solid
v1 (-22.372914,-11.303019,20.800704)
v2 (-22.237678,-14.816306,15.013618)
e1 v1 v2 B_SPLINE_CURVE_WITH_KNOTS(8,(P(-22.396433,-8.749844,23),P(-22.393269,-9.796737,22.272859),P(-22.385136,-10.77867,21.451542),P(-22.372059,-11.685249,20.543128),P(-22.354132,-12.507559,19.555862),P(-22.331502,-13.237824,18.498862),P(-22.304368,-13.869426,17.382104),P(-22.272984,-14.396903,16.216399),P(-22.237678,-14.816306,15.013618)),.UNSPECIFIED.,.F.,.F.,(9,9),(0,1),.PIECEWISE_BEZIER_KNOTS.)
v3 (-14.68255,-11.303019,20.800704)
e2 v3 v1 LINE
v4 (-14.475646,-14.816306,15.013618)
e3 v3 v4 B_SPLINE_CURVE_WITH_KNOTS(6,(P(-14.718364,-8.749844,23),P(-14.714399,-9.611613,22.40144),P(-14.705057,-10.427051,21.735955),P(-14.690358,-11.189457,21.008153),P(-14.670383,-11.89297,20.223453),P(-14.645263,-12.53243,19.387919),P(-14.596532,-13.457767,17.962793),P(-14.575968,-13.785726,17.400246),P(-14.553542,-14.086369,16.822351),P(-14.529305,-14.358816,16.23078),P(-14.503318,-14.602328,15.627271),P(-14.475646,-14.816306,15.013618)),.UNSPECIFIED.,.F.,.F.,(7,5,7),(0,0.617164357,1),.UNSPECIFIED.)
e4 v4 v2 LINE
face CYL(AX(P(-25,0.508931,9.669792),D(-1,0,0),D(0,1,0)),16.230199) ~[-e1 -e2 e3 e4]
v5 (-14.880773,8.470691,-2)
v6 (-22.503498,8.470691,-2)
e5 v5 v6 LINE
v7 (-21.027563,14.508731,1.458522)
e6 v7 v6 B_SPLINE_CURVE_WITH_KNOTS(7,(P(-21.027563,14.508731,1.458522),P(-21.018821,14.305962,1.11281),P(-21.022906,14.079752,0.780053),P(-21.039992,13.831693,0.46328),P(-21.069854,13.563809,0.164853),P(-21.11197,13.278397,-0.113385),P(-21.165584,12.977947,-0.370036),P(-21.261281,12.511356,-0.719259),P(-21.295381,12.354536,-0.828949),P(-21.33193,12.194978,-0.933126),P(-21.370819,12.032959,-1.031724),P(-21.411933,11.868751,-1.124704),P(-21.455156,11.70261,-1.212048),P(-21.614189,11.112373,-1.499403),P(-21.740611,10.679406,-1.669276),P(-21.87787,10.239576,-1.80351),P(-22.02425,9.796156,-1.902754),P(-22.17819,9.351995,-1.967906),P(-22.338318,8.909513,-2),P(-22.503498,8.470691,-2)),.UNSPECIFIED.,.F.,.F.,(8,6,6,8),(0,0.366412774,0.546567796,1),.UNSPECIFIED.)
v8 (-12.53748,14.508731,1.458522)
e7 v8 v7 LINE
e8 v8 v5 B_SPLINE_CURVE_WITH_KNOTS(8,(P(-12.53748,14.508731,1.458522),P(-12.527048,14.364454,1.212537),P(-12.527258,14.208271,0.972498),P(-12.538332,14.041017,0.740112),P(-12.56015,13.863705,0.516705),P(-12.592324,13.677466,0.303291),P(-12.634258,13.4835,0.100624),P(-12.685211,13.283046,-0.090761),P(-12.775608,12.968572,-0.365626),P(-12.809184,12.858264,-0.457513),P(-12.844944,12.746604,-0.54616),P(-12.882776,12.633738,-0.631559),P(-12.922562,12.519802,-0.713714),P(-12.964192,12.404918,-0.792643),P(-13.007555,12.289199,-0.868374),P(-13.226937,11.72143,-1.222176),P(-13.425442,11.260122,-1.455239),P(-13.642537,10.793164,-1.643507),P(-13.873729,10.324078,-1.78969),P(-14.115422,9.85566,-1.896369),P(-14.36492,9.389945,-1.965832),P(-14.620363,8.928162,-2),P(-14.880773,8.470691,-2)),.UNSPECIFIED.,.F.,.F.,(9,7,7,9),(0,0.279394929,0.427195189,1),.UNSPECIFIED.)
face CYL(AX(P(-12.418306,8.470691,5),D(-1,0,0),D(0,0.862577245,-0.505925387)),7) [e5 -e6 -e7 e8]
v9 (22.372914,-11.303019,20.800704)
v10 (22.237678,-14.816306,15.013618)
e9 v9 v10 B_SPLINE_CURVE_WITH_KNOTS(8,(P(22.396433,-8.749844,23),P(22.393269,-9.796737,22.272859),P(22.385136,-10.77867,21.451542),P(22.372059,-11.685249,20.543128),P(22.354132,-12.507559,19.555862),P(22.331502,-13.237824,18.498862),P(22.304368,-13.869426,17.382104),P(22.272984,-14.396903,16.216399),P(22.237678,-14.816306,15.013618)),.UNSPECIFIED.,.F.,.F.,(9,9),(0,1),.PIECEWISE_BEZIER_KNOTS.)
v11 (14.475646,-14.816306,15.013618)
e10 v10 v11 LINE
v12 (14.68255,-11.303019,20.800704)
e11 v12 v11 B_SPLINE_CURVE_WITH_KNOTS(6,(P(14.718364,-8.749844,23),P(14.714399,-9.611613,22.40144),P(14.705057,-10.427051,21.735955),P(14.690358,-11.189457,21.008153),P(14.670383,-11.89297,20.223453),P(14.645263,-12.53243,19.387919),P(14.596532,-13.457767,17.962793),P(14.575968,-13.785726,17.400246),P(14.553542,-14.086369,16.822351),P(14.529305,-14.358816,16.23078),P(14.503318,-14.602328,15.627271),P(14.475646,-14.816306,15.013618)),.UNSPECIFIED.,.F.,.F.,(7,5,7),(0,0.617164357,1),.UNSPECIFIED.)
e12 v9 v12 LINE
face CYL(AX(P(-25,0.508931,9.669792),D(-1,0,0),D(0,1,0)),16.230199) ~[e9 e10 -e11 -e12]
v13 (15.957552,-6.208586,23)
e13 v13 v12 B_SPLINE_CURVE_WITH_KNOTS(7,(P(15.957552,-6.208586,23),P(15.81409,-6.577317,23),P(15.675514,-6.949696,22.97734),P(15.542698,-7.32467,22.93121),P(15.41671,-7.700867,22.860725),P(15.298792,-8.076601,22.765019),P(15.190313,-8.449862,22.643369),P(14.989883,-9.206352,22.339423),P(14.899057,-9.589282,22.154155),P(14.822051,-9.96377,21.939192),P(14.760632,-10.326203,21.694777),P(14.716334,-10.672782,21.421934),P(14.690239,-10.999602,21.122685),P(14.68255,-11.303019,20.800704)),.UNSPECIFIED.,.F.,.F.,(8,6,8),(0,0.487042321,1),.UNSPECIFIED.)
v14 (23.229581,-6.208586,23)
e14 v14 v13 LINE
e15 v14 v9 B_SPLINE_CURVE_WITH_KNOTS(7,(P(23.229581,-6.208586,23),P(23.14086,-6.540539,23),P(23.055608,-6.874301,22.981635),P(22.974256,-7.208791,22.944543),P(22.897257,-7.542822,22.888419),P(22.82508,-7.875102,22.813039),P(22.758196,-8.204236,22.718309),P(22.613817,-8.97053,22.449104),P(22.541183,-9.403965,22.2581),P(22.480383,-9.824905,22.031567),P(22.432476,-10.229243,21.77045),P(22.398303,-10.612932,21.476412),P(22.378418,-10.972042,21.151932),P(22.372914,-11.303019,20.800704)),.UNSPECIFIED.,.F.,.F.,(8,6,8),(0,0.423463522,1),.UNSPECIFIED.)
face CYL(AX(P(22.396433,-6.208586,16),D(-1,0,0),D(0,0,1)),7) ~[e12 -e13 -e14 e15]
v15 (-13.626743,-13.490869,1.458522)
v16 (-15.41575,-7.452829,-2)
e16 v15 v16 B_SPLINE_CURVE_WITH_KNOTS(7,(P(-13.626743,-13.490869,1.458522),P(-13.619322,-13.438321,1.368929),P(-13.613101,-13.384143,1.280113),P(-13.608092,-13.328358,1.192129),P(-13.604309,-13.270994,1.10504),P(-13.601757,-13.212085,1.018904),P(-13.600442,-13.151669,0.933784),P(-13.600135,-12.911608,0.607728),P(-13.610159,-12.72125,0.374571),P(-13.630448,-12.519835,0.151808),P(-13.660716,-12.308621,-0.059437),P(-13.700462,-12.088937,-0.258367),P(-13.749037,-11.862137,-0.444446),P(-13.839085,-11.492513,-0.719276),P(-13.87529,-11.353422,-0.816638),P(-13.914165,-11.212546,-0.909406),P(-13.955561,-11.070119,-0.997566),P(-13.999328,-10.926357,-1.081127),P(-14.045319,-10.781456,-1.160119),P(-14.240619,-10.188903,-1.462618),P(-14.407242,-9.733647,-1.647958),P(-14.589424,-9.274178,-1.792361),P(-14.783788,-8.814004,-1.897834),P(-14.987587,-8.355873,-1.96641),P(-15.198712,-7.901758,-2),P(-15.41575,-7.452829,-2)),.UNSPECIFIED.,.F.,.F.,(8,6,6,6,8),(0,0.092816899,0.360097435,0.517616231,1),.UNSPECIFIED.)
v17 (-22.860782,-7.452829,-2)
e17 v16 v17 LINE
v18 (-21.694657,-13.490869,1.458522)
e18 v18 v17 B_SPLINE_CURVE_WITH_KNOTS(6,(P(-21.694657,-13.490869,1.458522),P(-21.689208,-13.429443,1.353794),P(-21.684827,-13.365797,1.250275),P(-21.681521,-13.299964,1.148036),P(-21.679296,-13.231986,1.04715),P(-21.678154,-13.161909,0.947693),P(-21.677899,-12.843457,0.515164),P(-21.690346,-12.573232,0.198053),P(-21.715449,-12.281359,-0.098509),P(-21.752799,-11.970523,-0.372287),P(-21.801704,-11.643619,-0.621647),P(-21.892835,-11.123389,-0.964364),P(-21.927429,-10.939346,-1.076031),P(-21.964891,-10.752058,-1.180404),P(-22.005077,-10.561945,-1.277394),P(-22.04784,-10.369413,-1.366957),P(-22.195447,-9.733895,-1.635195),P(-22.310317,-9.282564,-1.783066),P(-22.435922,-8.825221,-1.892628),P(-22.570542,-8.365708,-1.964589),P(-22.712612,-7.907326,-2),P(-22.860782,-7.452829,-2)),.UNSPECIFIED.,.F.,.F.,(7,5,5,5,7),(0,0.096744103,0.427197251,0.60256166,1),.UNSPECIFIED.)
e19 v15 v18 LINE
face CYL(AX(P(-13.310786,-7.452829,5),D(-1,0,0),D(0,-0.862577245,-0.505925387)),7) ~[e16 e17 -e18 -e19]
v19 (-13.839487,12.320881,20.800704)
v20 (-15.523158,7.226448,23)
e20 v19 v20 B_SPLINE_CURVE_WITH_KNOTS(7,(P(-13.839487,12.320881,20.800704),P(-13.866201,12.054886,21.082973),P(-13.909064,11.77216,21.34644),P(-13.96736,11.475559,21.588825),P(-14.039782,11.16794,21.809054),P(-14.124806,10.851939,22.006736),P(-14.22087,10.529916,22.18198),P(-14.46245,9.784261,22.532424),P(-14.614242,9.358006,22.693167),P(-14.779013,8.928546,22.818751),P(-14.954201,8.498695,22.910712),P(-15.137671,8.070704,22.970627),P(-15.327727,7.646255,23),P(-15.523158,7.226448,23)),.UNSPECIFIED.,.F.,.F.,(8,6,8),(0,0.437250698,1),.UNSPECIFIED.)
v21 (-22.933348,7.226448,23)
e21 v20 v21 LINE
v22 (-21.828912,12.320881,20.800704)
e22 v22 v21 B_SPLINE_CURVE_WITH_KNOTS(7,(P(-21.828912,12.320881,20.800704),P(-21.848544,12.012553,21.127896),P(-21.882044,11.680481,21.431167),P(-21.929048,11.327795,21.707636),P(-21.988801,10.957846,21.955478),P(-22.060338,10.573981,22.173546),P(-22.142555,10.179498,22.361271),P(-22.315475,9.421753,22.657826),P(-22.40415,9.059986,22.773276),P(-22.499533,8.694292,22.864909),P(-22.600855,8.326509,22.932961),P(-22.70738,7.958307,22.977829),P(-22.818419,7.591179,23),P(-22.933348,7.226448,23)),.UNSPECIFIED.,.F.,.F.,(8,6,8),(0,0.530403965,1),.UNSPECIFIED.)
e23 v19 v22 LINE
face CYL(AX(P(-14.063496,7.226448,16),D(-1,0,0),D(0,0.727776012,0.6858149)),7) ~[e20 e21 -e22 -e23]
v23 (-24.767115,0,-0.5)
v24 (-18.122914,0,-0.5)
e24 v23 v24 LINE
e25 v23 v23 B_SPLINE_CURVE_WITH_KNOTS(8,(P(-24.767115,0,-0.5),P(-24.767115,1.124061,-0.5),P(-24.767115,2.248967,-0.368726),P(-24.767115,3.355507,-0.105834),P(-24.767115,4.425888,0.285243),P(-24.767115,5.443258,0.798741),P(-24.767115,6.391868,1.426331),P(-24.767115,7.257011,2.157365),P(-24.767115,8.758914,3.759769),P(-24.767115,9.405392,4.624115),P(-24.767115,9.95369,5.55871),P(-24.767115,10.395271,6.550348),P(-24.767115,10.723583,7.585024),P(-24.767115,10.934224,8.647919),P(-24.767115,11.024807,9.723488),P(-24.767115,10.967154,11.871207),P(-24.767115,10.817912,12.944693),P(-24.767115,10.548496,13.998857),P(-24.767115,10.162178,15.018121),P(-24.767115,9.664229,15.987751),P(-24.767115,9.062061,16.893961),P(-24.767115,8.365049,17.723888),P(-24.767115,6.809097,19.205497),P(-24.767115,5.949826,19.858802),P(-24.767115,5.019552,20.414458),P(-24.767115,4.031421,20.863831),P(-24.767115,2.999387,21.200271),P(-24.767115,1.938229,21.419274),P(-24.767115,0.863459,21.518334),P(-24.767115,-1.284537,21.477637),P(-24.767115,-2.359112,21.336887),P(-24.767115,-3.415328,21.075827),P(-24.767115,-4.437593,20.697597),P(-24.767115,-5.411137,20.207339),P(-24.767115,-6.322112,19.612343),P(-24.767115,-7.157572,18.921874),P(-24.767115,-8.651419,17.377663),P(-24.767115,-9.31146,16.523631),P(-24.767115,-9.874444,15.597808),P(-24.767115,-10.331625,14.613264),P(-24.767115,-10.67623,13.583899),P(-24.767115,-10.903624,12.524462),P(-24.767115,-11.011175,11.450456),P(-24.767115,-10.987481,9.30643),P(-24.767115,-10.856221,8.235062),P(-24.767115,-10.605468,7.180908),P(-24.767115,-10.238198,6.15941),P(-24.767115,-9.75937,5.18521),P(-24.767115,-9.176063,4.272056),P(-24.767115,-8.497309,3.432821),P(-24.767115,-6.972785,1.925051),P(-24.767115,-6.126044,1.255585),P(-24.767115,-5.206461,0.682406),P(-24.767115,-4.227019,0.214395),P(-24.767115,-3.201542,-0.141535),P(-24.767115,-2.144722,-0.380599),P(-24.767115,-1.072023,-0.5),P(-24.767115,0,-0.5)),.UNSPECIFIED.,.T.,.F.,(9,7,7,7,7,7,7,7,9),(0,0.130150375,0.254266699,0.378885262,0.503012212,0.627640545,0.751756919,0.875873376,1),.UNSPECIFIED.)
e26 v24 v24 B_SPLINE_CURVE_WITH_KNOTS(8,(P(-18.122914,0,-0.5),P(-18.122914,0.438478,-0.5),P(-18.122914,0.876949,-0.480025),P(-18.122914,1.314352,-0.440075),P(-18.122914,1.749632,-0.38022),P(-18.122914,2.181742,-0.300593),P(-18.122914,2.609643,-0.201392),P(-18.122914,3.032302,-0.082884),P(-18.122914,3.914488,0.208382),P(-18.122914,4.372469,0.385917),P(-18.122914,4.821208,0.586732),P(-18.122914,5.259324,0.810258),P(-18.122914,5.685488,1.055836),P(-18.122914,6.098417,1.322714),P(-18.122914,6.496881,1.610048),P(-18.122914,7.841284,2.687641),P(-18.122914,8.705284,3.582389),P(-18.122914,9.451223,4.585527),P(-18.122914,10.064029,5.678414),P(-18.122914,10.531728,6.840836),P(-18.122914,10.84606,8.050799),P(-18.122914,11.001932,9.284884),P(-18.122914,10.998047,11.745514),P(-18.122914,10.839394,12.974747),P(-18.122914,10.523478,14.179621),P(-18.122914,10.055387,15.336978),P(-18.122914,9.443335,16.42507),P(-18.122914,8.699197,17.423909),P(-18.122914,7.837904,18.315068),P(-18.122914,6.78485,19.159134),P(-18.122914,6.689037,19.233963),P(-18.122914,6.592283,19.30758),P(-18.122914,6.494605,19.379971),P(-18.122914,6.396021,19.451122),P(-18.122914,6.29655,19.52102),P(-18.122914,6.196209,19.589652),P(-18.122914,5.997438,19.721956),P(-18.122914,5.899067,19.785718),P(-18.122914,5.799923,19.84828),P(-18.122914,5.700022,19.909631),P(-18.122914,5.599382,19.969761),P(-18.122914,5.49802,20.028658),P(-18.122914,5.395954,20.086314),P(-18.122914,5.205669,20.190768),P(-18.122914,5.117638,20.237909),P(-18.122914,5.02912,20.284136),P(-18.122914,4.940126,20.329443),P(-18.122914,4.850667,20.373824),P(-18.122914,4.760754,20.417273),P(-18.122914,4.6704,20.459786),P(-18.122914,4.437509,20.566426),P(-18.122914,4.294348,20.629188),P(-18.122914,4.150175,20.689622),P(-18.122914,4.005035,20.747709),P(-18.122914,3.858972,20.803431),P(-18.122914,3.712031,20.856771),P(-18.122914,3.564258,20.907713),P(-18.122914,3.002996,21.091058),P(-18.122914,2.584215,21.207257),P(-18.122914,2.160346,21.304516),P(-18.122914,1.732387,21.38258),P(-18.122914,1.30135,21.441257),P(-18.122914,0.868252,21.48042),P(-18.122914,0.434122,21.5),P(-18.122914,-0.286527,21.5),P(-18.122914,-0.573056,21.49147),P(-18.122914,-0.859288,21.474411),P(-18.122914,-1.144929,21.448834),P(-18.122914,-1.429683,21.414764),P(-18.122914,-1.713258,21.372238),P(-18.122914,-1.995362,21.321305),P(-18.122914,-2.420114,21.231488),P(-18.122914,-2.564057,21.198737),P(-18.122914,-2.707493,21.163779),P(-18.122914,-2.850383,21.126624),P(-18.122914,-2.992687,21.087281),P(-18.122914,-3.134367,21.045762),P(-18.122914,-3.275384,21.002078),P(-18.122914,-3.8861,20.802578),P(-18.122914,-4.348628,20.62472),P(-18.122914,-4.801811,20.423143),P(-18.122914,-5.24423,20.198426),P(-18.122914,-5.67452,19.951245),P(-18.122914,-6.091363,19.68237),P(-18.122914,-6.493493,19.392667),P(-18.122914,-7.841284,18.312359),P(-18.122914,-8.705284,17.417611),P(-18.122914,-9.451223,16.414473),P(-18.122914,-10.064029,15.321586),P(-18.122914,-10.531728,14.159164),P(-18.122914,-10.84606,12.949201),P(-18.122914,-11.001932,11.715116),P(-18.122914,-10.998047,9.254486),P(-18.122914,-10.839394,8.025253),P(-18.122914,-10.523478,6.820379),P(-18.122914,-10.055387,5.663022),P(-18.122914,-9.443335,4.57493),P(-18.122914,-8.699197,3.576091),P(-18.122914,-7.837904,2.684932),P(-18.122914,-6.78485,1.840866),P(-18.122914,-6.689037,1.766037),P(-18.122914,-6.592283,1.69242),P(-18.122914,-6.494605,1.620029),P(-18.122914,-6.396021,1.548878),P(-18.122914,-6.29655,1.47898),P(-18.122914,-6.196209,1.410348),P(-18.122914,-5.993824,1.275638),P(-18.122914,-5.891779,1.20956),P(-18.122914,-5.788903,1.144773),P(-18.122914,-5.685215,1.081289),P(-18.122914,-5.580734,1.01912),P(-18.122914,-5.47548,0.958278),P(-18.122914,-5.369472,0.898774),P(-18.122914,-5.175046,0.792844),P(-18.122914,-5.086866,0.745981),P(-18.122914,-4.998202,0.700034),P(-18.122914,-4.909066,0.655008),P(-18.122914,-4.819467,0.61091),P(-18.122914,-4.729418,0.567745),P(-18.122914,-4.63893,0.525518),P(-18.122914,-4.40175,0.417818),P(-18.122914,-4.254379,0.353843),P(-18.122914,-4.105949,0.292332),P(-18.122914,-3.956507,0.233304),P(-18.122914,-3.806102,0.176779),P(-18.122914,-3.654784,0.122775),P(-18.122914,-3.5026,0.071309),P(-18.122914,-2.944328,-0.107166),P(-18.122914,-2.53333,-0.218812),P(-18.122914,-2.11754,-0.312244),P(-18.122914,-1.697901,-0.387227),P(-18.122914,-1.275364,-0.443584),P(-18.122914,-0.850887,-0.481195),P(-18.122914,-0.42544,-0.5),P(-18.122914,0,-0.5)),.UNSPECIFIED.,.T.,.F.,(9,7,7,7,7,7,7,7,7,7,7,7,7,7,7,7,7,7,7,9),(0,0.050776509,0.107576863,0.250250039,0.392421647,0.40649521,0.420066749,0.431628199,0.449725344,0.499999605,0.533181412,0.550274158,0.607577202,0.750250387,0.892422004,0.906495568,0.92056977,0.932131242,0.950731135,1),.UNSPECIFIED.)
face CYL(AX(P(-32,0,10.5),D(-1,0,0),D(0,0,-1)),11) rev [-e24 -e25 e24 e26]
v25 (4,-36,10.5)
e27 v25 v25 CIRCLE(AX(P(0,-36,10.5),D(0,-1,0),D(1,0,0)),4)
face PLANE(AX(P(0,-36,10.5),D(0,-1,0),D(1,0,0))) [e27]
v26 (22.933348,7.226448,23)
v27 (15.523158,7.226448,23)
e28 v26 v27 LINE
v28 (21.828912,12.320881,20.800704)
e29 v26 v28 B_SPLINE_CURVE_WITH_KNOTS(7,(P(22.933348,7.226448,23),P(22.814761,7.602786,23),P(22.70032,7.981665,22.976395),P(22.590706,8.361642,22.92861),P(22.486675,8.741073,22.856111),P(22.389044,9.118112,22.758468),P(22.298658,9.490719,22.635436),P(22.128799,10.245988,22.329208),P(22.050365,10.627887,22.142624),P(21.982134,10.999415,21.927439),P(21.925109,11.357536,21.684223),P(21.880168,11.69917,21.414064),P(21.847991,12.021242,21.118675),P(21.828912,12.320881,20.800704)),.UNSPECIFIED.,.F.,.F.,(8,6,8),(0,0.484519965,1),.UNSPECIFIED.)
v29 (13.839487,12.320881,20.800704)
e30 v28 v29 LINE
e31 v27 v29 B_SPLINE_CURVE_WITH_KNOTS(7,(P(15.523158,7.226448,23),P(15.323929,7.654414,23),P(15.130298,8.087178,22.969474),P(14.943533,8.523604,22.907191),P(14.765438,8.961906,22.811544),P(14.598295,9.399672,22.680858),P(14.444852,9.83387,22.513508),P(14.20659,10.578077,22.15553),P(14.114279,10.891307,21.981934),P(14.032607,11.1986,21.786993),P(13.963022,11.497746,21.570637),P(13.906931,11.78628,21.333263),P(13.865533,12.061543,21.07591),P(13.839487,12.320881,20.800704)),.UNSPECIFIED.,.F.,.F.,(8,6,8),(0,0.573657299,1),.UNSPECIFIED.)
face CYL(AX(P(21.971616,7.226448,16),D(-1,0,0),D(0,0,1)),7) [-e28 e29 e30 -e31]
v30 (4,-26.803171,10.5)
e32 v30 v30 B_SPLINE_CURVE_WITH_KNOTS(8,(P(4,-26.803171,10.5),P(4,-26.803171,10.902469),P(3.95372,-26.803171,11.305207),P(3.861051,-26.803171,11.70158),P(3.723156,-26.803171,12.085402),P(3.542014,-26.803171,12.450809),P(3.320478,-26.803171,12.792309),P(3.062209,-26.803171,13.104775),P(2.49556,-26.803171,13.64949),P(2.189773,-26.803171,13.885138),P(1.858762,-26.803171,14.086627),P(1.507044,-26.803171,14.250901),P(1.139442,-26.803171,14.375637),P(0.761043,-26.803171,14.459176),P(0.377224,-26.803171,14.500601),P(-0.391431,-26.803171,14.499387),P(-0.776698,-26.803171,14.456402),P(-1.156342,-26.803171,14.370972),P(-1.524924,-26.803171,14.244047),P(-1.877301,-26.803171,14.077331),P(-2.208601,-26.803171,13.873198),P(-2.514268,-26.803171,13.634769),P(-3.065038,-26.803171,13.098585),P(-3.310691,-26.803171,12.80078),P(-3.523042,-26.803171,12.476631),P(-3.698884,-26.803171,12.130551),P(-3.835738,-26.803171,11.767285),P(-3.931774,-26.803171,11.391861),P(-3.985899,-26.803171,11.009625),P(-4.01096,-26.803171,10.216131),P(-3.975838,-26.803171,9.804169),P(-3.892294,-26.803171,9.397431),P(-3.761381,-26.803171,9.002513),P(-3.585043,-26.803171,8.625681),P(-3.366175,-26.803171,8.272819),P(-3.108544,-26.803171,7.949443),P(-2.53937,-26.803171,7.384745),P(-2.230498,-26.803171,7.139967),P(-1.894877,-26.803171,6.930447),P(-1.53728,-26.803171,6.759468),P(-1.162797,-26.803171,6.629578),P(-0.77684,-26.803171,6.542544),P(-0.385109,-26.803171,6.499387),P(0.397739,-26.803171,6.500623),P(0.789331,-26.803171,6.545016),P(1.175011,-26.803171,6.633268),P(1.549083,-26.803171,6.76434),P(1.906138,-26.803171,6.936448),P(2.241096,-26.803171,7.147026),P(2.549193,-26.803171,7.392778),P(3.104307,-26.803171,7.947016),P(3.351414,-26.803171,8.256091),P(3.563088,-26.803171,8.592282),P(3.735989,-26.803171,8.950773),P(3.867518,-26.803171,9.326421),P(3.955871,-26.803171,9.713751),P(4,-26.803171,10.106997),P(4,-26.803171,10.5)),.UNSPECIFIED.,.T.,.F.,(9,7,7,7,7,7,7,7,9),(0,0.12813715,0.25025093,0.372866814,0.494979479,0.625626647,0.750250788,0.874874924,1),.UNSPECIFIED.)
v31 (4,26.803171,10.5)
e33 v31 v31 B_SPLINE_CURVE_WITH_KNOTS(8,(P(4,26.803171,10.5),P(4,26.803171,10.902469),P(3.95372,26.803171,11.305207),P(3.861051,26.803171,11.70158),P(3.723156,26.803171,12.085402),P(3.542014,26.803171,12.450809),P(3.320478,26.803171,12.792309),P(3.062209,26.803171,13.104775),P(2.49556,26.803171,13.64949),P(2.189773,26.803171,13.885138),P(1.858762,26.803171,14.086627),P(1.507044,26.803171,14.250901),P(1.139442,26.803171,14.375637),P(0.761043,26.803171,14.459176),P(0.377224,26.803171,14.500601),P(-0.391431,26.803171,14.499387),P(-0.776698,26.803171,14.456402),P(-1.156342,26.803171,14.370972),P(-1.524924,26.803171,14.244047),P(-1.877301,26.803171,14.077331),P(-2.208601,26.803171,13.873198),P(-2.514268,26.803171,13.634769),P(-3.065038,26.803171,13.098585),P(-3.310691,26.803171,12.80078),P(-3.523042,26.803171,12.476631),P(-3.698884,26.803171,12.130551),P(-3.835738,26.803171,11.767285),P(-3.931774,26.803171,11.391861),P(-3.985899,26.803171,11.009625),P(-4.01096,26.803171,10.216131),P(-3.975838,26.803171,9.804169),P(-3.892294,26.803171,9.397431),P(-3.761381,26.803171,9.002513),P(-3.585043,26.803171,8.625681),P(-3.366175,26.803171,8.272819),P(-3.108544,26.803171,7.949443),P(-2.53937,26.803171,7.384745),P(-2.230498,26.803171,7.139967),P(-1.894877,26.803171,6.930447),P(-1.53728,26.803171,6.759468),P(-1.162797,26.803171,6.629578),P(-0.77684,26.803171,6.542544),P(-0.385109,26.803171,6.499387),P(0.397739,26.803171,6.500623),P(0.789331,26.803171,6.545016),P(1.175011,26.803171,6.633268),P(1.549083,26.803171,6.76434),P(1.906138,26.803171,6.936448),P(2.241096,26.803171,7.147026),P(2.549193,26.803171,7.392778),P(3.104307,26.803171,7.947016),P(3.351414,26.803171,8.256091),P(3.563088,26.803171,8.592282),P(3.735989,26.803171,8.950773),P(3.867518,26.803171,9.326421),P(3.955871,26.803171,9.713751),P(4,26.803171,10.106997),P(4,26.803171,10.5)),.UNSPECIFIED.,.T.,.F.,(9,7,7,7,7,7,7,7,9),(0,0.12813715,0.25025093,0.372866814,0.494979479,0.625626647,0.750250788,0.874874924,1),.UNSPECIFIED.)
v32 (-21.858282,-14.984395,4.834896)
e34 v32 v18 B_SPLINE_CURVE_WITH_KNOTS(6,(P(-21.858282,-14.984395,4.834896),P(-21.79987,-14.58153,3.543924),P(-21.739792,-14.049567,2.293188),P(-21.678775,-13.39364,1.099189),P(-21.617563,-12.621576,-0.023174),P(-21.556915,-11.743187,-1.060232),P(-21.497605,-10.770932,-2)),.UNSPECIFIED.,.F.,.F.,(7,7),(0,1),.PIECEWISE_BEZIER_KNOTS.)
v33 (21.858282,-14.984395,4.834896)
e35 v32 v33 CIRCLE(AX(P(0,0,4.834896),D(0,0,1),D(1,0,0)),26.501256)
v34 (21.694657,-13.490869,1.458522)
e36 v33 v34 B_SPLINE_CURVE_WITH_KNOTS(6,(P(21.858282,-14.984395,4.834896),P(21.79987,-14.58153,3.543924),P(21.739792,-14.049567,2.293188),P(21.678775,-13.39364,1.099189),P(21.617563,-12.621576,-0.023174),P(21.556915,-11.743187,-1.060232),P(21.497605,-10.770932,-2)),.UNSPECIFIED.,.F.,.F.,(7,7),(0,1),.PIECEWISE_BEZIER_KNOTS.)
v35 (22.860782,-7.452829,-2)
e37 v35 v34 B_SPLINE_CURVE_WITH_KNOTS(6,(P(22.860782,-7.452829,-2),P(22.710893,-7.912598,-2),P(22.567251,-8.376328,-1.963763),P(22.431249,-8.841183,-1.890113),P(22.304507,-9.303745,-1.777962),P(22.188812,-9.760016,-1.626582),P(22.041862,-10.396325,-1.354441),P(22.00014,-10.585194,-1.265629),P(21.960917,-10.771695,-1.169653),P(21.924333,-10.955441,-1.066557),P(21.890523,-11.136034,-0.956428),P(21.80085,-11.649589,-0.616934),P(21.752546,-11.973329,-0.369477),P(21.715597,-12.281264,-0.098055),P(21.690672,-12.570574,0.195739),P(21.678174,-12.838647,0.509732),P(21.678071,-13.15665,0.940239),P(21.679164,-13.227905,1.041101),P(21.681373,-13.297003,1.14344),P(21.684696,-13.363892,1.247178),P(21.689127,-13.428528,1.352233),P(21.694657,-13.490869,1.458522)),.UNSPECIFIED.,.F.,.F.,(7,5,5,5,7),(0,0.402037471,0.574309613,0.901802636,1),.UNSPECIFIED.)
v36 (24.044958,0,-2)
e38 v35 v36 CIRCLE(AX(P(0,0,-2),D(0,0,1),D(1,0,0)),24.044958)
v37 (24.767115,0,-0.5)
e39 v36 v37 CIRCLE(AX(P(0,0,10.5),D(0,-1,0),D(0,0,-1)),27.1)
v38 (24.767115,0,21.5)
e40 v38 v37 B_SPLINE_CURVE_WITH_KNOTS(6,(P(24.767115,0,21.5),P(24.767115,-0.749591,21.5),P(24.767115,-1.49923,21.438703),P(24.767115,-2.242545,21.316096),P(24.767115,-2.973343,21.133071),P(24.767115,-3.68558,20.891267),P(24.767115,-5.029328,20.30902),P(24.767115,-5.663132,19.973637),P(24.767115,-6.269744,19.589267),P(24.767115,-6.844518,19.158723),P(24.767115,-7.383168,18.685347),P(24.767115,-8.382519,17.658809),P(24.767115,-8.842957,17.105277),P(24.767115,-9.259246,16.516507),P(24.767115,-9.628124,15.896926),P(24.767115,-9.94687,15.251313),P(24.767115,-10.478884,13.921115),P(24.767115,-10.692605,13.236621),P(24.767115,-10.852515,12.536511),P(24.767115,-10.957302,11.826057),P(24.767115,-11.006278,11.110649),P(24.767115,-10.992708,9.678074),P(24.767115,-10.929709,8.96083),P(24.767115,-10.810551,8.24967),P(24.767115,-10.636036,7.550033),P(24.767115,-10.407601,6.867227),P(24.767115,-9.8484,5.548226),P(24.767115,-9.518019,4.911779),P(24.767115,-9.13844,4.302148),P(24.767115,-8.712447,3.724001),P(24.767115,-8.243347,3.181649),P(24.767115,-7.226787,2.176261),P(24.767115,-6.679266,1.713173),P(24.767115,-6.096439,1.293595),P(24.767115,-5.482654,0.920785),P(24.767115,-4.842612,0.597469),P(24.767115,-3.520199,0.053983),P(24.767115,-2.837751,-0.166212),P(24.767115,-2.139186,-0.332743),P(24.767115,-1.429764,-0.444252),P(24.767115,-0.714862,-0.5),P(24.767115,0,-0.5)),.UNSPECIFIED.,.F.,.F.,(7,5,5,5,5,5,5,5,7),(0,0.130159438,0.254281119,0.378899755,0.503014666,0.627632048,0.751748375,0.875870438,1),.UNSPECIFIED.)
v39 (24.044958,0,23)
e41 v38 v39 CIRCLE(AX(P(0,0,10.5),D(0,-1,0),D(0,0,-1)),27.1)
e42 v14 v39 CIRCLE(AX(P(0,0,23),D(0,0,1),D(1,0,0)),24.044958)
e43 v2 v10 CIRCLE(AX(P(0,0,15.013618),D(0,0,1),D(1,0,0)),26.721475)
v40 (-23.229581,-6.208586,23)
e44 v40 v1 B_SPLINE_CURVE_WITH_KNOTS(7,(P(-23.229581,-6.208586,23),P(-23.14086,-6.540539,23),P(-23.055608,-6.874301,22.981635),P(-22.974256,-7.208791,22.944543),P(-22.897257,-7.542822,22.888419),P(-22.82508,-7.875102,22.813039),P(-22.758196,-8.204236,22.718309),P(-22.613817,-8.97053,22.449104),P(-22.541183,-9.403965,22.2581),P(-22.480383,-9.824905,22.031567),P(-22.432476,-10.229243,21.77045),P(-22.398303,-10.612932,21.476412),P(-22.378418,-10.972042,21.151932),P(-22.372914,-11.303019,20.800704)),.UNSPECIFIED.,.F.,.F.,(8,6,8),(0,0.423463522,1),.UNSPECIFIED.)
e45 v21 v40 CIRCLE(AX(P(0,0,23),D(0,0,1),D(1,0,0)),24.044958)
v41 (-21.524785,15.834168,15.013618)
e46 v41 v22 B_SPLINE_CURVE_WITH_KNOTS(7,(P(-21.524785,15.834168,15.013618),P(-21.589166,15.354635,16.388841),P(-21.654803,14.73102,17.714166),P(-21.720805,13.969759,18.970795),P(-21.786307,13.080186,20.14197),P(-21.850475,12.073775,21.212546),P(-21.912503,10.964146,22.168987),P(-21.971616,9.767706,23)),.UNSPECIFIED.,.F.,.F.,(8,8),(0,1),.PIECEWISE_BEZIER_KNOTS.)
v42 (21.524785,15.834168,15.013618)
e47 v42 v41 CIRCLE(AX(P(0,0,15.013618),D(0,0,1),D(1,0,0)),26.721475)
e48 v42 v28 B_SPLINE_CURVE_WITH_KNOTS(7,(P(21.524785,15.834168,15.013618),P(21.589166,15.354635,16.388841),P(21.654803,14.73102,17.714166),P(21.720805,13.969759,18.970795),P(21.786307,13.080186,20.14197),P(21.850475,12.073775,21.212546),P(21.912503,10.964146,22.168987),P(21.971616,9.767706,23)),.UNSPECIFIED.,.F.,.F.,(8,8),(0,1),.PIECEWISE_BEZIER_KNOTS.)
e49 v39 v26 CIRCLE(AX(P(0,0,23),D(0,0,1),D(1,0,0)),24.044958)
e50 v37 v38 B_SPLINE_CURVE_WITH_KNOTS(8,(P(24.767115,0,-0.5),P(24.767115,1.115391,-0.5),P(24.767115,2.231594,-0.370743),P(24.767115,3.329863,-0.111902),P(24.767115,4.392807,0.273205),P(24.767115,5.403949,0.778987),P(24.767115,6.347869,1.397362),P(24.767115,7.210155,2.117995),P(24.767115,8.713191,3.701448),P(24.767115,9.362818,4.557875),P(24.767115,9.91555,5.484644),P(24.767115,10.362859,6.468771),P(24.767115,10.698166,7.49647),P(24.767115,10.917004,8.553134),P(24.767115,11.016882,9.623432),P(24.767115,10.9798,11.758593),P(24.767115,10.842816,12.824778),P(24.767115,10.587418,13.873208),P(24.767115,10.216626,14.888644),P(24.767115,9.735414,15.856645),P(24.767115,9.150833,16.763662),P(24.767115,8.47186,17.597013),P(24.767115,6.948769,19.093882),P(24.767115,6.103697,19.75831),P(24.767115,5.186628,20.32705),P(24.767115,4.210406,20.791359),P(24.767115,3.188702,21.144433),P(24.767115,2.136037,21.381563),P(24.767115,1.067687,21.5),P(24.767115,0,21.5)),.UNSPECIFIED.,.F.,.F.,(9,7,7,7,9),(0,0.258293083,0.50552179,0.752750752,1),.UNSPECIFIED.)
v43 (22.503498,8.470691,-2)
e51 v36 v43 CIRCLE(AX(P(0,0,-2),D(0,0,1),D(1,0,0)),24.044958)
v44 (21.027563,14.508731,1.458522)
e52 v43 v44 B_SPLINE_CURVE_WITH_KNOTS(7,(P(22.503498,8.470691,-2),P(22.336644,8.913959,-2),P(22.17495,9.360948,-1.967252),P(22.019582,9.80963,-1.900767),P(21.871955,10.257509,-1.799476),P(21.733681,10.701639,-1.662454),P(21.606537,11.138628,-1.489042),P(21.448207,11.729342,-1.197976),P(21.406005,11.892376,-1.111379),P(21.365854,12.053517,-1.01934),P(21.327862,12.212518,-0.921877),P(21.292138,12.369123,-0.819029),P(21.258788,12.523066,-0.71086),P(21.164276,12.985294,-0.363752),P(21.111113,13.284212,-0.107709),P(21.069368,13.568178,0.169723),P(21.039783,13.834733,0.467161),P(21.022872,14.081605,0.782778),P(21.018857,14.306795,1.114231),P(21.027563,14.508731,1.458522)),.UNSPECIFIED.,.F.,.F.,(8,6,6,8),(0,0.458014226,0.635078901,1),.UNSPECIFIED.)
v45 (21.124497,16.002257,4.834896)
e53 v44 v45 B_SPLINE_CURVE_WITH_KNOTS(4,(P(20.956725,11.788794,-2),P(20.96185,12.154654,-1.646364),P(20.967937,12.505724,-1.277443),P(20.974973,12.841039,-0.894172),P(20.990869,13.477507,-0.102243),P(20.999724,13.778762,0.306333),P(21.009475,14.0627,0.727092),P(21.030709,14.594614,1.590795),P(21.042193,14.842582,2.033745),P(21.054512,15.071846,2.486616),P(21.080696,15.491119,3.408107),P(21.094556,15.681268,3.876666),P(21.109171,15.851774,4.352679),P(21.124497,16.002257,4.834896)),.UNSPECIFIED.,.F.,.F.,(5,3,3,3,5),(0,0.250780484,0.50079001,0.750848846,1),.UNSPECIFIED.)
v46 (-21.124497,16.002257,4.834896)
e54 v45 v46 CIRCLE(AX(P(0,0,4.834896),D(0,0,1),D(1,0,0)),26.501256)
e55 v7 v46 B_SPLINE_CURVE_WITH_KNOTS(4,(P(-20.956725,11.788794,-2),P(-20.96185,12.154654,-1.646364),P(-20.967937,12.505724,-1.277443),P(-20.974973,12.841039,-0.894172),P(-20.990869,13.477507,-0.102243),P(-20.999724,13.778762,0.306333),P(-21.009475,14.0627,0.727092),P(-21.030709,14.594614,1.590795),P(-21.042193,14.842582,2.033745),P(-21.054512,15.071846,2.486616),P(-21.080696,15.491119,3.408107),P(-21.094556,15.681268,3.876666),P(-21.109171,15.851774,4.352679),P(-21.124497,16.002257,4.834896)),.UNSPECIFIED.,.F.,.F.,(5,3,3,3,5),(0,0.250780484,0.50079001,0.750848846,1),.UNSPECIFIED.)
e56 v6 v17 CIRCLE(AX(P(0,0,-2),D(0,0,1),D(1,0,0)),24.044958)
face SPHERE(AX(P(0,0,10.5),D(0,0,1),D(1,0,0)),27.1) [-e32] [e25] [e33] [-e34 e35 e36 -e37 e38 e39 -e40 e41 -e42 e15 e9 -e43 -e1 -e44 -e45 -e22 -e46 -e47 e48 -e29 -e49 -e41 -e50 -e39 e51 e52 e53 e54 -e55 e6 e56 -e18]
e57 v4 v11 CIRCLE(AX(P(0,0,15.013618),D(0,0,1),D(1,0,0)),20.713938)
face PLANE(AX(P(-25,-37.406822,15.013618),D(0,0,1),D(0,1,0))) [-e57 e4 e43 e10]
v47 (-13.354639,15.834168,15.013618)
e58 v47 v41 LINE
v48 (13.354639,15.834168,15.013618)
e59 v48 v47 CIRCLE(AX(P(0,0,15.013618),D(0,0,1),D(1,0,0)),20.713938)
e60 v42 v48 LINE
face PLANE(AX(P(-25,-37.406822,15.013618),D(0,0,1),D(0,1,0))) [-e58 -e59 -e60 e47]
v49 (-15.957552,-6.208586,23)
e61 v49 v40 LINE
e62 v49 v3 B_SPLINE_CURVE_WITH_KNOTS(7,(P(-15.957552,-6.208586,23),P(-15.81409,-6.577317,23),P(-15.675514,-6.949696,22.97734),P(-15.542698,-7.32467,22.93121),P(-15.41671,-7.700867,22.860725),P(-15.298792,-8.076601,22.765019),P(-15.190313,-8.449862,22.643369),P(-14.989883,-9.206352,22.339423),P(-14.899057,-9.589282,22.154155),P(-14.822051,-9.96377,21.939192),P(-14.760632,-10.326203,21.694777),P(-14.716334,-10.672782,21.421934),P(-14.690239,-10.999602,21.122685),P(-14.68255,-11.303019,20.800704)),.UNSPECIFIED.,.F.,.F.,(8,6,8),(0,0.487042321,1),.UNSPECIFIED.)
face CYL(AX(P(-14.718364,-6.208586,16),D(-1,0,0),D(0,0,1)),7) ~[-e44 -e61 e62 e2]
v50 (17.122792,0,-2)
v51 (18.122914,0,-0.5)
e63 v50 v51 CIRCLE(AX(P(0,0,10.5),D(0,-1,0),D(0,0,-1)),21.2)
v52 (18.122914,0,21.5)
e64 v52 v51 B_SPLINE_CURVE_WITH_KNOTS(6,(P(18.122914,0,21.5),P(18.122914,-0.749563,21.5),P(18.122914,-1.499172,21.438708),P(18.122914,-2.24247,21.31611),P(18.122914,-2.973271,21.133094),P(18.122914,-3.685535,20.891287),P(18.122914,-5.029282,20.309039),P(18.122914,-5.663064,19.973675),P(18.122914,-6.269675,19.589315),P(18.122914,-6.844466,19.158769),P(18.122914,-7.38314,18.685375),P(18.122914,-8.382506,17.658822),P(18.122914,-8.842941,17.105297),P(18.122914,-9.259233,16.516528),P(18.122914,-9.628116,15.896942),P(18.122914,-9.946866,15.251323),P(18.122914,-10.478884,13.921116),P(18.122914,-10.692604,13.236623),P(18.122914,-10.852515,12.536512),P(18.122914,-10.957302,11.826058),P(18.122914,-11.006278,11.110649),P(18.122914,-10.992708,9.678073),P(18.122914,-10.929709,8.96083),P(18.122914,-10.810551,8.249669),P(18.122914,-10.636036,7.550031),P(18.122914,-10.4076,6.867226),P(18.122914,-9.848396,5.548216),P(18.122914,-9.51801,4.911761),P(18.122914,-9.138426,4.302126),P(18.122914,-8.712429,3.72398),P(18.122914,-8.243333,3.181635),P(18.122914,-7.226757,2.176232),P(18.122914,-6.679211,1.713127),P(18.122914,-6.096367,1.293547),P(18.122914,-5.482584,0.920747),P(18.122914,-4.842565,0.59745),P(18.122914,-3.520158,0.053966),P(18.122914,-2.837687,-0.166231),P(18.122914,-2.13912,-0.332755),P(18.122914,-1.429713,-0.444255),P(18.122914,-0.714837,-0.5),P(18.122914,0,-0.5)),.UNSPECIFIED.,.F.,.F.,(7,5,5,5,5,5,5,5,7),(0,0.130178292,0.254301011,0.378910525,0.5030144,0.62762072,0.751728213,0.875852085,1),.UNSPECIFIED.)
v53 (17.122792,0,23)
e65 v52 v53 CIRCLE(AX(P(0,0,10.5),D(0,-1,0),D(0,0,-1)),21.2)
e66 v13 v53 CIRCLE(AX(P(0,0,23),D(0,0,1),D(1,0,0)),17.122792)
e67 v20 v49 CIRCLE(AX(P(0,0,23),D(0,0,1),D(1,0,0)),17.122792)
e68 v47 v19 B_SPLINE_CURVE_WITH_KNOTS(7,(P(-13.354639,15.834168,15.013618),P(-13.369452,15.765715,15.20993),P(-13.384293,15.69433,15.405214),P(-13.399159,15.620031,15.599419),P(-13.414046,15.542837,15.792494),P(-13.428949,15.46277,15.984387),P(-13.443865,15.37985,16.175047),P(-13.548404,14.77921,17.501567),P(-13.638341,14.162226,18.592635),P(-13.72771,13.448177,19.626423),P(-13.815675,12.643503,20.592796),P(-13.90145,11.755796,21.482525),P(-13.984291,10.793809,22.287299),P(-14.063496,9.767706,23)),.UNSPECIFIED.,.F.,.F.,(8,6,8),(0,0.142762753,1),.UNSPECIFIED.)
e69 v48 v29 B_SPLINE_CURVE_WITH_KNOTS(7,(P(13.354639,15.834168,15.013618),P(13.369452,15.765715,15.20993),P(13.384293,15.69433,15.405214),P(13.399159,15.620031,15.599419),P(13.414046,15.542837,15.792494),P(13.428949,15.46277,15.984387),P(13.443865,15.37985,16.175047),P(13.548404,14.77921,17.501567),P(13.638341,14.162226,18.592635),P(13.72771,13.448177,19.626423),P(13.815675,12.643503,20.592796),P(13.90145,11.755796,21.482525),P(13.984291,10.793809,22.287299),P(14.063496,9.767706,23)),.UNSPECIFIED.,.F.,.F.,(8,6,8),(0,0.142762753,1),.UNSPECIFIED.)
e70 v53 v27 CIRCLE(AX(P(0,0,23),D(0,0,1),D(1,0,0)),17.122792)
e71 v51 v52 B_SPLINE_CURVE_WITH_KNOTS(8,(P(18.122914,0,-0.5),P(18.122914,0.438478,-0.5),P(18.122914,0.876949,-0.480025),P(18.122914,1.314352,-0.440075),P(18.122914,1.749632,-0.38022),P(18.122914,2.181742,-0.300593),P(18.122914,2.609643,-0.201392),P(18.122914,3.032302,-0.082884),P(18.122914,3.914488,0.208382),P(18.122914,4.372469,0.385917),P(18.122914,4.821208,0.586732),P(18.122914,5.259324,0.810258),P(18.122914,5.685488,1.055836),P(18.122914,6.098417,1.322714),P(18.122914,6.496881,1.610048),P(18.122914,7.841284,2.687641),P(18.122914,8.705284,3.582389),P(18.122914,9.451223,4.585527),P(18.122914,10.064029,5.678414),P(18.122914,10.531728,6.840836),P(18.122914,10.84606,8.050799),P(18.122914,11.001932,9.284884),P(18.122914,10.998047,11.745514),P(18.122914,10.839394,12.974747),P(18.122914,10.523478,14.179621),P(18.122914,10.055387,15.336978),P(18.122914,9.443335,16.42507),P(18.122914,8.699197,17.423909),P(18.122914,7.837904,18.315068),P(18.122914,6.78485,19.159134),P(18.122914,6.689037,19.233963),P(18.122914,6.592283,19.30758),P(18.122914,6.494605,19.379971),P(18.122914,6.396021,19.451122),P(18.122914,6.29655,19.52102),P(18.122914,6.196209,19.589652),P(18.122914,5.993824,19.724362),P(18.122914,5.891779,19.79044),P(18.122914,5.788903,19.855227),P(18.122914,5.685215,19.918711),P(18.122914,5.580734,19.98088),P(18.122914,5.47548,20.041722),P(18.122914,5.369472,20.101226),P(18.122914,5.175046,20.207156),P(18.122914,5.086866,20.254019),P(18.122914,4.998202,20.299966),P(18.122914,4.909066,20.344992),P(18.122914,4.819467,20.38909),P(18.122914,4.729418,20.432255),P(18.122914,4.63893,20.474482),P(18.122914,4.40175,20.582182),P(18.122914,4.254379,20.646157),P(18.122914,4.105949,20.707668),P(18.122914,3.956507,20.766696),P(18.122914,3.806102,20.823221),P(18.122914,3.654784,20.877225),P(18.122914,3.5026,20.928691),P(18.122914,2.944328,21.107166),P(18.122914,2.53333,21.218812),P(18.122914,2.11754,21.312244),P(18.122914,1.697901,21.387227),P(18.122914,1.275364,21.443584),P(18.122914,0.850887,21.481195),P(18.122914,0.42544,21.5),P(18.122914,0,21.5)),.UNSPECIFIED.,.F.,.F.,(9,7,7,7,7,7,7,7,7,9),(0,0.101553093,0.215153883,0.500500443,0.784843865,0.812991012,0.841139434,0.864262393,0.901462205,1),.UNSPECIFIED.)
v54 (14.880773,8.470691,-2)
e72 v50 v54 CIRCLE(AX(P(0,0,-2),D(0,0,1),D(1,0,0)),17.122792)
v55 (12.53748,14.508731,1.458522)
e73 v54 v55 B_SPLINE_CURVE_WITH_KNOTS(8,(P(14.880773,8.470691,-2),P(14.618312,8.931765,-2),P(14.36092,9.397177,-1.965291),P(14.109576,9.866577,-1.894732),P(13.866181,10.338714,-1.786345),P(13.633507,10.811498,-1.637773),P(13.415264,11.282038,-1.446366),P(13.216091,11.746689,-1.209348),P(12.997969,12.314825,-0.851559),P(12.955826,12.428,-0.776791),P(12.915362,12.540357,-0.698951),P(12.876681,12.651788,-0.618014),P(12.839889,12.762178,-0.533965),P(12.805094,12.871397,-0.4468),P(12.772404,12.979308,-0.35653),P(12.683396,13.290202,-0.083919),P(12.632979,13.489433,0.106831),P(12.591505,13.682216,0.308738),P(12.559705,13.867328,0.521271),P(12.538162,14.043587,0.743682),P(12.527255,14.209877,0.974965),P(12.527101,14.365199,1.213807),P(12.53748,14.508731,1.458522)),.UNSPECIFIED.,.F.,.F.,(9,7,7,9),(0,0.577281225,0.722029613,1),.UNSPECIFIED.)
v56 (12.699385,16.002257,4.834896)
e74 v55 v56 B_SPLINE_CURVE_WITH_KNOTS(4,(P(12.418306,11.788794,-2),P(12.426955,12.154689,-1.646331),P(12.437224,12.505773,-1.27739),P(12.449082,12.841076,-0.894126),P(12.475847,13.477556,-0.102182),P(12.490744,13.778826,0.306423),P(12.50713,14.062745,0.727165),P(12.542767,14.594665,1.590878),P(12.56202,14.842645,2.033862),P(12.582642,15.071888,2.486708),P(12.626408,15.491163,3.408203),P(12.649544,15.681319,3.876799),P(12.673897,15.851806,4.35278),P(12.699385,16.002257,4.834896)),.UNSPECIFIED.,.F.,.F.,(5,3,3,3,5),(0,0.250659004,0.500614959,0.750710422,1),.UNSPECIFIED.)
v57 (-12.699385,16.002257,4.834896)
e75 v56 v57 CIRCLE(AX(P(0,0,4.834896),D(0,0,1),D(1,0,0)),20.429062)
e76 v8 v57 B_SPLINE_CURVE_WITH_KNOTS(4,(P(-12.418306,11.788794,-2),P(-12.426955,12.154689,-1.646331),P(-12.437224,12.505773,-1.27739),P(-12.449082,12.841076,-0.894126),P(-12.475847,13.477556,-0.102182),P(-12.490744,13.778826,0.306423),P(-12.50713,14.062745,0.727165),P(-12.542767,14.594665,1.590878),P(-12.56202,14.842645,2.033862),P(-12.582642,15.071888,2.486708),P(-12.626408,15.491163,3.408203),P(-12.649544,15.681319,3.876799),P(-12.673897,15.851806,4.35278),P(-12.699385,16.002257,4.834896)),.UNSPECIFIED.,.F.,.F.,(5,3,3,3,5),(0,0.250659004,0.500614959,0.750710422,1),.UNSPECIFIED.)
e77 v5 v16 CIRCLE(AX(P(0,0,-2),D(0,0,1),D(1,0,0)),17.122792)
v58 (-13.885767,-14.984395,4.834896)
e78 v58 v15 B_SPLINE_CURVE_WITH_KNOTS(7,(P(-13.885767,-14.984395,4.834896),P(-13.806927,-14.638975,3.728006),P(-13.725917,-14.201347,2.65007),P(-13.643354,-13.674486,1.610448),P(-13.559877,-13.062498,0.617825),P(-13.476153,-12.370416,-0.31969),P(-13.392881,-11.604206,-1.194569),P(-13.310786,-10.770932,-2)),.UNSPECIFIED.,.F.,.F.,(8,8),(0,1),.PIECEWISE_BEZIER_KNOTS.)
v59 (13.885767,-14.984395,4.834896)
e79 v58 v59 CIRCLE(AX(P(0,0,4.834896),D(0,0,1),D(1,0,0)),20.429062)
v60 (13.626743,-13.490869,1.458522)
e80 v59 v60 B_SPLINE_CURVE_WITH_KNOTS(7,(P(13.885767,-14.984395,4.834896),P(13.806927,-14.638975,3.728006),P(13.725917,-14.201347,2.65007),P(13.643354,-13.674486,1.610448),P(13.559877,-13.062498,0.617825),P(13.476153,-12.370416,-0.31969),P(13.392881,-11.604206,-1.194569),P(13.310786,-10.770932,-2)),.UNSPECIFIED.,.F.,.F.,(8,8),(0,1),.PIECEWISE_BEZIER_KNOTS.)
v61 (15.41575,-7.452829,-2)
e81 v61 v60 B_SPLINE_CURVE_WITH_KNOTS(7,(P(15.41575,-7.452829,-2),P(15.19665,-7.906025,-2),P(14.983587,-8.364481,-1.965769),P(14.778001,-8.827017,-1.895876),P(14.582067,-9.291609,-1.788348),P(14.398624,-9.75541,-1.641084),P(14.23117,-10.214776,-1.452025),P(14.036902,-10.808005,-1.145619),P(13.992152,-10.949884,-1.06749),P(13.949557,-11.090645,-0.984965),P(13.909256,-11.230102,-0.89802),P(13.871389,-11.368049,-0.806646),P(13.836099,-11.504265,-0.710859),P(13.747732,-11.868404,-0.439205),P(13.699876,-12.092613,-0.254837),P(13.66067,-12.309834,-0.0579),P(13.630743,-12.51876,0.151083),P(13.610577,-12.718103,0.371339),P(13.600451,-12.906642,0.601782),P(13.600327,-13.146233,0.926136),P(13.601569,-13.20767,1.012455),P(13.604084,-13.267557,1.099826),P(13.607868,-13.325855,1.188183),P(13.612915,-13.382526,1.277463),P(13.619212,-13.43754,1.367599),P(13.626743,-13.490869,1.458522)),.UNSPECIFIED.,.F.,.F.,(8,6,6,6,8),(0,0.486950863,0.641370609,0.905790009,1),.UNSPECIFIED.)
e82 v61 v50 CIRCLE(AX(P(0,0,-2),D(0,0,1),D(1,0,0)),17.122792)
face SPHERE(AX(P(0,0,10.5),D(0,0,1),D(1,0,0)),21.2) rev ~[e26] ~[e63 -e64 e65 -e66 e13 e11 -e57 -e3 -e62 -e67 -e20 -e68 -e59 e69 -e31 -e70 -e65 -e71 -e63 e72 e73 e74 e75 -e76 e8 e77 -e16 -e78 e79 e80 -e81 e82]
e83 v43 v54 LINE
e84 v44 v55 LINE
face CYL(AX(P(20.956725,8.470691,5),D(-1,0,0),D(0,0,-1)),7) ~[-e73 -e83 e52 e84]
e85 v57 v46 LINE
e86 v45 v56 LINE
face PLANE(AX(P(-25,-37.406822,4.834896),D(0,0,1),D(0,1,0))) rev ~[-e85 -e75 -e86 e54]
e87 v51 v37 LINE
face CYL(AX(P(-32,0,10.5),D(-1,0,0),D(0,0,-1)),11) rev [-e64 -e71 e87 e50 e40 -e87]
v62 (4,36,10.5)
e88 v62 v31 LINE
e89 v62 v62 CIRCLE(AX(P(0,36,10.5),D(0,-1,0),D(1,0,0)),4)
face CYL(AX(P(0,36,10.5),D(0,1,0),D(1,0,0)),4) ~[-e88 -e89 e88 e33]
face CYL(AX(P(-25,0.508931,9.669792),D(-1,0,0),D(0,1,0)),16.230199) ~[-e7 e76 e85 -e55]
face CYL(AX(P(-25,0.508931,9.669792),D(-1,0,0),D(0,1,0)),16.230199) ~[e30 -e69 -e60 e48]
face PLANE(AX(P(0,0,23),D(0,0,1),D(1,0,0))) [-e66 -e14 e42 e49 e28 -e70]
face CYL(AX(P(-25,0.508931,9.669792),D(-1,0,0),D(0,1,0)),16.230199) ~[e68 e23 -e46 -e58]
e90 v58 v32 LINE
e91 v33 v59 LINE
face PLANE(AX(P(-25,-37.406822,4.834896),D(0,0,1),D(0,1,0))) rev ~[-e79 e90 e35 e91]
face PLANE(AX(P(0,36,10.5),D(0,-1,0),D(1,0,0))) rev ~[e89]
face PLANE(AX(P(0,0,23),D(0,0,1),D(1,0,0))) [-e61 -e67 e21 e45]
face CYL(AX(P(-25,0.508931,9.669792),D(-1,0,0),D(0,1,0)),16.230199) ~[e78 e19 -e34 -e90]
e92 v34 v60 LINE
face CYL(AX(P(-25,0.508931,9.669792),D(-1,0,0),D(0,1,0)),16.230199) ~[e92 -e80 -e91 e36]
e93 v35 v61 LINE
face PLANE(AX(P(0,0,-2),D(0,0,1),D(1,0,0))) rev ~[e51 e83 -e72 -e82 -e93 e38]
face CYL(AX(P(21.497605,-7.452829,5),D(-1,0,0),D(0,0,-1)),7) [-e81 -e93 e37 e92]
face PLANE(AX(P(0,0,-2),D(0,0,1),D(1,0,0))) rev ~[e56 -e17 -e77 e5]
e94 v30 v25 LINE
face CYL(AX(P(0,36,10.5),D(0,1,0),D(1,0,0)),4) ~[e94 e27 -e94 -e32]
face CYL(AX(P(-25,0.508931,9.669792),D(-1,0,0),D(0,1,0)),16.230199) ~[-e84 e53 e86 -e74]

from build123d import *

# Parameters (mm, degrees)
BOX003_W                = 300
BOX003_H                = 300
BOX003_DEPTH            = 100
BOX002_W                = 300
BOX002_H                = 300
BOX002_DEPTH            = 100
CYLINDER006_R           = 11
CYLINDER006_DEPTH       = 68
CYLINDER006_PITCH_ANGLE = 90
CYLINDER007_R           = 4
CYLINDER007_DEPTH       = 72
CYLINDER007_ROLL_ANGLE  = 90
SKETCH003_R             = 16.230199
PAD002_DEPTH            = 60
SKETCH002_W             = 75.068111
SKETCH002_H             = 10.178723
PAD003_DEPTH            = 60
FILLET_R                = 7
FILLET001_R             = 7
FILLET002_R             = 7


with BuildPart() as cube003:
    # Box003 → Box003 (new body)
    with BuildSketch(Plane(origin=(-150, -150, 23), x_dir=(1, 0, 0), z_dir=(0, 0, 1))):
        with Locations((150, 150)):
            Rectangle(BOX003_W, BOX003_H)
    extrude(amount=BOX003_DEPTH)


with BuildPart() as fusion002:
    # Box002 → Box002 (new body)
    with BuildSketch(Plane(origin=(-150, -150, -102), x_dir=(1, 0, 0), z_dir=(0, 0, 1))):
        with Locations((150, 150)):
            Rectangle(BOX002_W, BOX002_H)
    extrude(amount=BOX002_DEPTH)

    # Fusion002: union Cube003
    add(cube003.part)


with BuildPart() as cylindre005:
    # Cylinder006 → Cylinder006 (new body)
    with BuildSketch(Plane.XY):
        Circle(CYLINDER006_R)
    extrude(amount=CYLINDER006_DEPTH)


with BuildPart() as cylindre005_1:
    # Cylinder006 pitch: moved
    add(cylindre005.part.rotate(Axis((0, 0, 0), (0, 1, 0)), CYLINDER006_PITCH_ANGLE))


with BuildPart() as cylindre005_2:
    # Cylinder006 placement: moved
    add(cylindre005_1.part.moved(Location((-32, 0, 10.5))))


with BuildPart() as sph_re001:
    # Sphere001 → Sphere001 (revolve)
    with BuildSketch(Plane(origin=(0, 0, 10.5), x_dir=(1, 0, 0), z_dir=(0, -1, 0))):
        with BuildLine():
            ThreePointArc((0, -21.2), (21.2, 0), (0, 21.2))
            Line((0, 21.2), (0, -21.2))
        make_face()
    revolve(axis=Axis((0, 0, 10.5), (0, 0, 1)))


with BuildPart() as cut008:
    # Sphere002 → Sphere002 (revolve)
    with BuildSketch(Plane(origin=(0, 0, 10.5), x_dir=(1, 0, 0), z_dir=(0, -1, 0))):
        with BuildLine():
            ThreePointArc((0, -27.1), (27.1, 0), (0, 27.1))
            Line((0, 27.1), (0, -27.1))
        make_face()
    revolve(axis=Axis((0, 0, 10.5), (0, 0, 1)))

    # Cut006: cut Sphère001
    add(sph_re001.part, mode=Mode.SUBTRACT)

    # Cut007: cut Cylindre005
    add(cylindre005_2.part, mode=Mode.SUBTRACT)

    # Cut008: cut Fusion002
    add(fusion002.part, mode=Mode.SUBTRACT)


with BuildPart() as sph_re003:
    # Sphere003 → Sphere003 (revolve)
    with BuildSketch(Plane(origin=(0, 0, 10.5), x_dir=(1, 0, 0), z_dir=(0, -1, 0))):
        with BuildLine():
            ThreePointArc((0, -21.4), (21.4, 0), (0, 21.4))
            Line((0, 21.4), (0, -21.4))
        make_face()
    revolve(axis=Axis((0, 0, 10.5), (0, 0, 1)))


with BuildPart() as mediium:
    # Cylinder007 → Cylinder007 (new body)
    with BuildSketch(Plane.XY):
        Circle(CYLINDER007_R)
    extrude(amount=CYLINDER007_DEPTH)


with BuildPart() as mediium_1:
    # Cylinder007 roll: moved
    add(mediium.part.rotate(Axis((0, 0, 0), (1, 0, 0)), CYLINDER007_ROLL_ANGLE))


with BuildPart() as mediium_2:
    # Cylinder007 placement: moved
    add(mediium_1.part.moved(Location((0, 36, 10.5))))

    # Cut009: cut Sphère003
    add(sph_re003.part, mode=Mode.SUBTRACT)

    # Fusion003: union Cut008
    add(cut008.part)


with BuildPart() as pad002:
    # Sketch003 → Pad002 (new body)
    with BuildSketch(Plane.YZ.offset(-25)):
        with Locations((0.508931, 9.669792)):
            Circle(SKETCH003_R)
    extrude(amount=PAD002_DEPTH)


with BuildPart() as medium2:
    # Sketch002 → Pad003 (new body)
    with BuildSketch(Plane.YZ.offset(-25)):
        with Locations((0.127233, 9.924257)):
            Rectangle(SKETCH002_W, SKETCH002_H)
    extrude(amount=PAD003_DEPTH)

    # Fusion007: union Pad002
    add(pad002.part)

    # Common002: intersect mediium
    add(mediium_2.part, mode=Mode.INTERSECT)

    # Fillet
    fillet_edges = [medium2.edges().sort_by_distance(p)[0] for p in [
        (18.017556, 9.767706, 23),
        (-18.017556, 9.767706, 23),
    ]]
    fillet(fillet_edges, radius=FILLET_R)

    # Fillet001
    fillet001_edges = [medium2.edges().sort_by_distance(p)[0] for p in [
        (-18.557399, -8.749844, 23),
        (18.557399, -8.749844, 23),
    ]]
    fillet(fillet001_edges, radius=FILLET001_R)

    # Fillet002
    fillet002_edges = [medium2.edges().sort_by_distance(p)[0] for p in [
        (-17.404195, -10.770932, -2),
        (17.404195, -10.770932, -2),
        (16.687516, 11.788794, -2),
        (-16.687516, 11.788794, -2),
    ]]
    fillet(fillet002_edges, radius=FILLET002_R)


solid = medium2.part
